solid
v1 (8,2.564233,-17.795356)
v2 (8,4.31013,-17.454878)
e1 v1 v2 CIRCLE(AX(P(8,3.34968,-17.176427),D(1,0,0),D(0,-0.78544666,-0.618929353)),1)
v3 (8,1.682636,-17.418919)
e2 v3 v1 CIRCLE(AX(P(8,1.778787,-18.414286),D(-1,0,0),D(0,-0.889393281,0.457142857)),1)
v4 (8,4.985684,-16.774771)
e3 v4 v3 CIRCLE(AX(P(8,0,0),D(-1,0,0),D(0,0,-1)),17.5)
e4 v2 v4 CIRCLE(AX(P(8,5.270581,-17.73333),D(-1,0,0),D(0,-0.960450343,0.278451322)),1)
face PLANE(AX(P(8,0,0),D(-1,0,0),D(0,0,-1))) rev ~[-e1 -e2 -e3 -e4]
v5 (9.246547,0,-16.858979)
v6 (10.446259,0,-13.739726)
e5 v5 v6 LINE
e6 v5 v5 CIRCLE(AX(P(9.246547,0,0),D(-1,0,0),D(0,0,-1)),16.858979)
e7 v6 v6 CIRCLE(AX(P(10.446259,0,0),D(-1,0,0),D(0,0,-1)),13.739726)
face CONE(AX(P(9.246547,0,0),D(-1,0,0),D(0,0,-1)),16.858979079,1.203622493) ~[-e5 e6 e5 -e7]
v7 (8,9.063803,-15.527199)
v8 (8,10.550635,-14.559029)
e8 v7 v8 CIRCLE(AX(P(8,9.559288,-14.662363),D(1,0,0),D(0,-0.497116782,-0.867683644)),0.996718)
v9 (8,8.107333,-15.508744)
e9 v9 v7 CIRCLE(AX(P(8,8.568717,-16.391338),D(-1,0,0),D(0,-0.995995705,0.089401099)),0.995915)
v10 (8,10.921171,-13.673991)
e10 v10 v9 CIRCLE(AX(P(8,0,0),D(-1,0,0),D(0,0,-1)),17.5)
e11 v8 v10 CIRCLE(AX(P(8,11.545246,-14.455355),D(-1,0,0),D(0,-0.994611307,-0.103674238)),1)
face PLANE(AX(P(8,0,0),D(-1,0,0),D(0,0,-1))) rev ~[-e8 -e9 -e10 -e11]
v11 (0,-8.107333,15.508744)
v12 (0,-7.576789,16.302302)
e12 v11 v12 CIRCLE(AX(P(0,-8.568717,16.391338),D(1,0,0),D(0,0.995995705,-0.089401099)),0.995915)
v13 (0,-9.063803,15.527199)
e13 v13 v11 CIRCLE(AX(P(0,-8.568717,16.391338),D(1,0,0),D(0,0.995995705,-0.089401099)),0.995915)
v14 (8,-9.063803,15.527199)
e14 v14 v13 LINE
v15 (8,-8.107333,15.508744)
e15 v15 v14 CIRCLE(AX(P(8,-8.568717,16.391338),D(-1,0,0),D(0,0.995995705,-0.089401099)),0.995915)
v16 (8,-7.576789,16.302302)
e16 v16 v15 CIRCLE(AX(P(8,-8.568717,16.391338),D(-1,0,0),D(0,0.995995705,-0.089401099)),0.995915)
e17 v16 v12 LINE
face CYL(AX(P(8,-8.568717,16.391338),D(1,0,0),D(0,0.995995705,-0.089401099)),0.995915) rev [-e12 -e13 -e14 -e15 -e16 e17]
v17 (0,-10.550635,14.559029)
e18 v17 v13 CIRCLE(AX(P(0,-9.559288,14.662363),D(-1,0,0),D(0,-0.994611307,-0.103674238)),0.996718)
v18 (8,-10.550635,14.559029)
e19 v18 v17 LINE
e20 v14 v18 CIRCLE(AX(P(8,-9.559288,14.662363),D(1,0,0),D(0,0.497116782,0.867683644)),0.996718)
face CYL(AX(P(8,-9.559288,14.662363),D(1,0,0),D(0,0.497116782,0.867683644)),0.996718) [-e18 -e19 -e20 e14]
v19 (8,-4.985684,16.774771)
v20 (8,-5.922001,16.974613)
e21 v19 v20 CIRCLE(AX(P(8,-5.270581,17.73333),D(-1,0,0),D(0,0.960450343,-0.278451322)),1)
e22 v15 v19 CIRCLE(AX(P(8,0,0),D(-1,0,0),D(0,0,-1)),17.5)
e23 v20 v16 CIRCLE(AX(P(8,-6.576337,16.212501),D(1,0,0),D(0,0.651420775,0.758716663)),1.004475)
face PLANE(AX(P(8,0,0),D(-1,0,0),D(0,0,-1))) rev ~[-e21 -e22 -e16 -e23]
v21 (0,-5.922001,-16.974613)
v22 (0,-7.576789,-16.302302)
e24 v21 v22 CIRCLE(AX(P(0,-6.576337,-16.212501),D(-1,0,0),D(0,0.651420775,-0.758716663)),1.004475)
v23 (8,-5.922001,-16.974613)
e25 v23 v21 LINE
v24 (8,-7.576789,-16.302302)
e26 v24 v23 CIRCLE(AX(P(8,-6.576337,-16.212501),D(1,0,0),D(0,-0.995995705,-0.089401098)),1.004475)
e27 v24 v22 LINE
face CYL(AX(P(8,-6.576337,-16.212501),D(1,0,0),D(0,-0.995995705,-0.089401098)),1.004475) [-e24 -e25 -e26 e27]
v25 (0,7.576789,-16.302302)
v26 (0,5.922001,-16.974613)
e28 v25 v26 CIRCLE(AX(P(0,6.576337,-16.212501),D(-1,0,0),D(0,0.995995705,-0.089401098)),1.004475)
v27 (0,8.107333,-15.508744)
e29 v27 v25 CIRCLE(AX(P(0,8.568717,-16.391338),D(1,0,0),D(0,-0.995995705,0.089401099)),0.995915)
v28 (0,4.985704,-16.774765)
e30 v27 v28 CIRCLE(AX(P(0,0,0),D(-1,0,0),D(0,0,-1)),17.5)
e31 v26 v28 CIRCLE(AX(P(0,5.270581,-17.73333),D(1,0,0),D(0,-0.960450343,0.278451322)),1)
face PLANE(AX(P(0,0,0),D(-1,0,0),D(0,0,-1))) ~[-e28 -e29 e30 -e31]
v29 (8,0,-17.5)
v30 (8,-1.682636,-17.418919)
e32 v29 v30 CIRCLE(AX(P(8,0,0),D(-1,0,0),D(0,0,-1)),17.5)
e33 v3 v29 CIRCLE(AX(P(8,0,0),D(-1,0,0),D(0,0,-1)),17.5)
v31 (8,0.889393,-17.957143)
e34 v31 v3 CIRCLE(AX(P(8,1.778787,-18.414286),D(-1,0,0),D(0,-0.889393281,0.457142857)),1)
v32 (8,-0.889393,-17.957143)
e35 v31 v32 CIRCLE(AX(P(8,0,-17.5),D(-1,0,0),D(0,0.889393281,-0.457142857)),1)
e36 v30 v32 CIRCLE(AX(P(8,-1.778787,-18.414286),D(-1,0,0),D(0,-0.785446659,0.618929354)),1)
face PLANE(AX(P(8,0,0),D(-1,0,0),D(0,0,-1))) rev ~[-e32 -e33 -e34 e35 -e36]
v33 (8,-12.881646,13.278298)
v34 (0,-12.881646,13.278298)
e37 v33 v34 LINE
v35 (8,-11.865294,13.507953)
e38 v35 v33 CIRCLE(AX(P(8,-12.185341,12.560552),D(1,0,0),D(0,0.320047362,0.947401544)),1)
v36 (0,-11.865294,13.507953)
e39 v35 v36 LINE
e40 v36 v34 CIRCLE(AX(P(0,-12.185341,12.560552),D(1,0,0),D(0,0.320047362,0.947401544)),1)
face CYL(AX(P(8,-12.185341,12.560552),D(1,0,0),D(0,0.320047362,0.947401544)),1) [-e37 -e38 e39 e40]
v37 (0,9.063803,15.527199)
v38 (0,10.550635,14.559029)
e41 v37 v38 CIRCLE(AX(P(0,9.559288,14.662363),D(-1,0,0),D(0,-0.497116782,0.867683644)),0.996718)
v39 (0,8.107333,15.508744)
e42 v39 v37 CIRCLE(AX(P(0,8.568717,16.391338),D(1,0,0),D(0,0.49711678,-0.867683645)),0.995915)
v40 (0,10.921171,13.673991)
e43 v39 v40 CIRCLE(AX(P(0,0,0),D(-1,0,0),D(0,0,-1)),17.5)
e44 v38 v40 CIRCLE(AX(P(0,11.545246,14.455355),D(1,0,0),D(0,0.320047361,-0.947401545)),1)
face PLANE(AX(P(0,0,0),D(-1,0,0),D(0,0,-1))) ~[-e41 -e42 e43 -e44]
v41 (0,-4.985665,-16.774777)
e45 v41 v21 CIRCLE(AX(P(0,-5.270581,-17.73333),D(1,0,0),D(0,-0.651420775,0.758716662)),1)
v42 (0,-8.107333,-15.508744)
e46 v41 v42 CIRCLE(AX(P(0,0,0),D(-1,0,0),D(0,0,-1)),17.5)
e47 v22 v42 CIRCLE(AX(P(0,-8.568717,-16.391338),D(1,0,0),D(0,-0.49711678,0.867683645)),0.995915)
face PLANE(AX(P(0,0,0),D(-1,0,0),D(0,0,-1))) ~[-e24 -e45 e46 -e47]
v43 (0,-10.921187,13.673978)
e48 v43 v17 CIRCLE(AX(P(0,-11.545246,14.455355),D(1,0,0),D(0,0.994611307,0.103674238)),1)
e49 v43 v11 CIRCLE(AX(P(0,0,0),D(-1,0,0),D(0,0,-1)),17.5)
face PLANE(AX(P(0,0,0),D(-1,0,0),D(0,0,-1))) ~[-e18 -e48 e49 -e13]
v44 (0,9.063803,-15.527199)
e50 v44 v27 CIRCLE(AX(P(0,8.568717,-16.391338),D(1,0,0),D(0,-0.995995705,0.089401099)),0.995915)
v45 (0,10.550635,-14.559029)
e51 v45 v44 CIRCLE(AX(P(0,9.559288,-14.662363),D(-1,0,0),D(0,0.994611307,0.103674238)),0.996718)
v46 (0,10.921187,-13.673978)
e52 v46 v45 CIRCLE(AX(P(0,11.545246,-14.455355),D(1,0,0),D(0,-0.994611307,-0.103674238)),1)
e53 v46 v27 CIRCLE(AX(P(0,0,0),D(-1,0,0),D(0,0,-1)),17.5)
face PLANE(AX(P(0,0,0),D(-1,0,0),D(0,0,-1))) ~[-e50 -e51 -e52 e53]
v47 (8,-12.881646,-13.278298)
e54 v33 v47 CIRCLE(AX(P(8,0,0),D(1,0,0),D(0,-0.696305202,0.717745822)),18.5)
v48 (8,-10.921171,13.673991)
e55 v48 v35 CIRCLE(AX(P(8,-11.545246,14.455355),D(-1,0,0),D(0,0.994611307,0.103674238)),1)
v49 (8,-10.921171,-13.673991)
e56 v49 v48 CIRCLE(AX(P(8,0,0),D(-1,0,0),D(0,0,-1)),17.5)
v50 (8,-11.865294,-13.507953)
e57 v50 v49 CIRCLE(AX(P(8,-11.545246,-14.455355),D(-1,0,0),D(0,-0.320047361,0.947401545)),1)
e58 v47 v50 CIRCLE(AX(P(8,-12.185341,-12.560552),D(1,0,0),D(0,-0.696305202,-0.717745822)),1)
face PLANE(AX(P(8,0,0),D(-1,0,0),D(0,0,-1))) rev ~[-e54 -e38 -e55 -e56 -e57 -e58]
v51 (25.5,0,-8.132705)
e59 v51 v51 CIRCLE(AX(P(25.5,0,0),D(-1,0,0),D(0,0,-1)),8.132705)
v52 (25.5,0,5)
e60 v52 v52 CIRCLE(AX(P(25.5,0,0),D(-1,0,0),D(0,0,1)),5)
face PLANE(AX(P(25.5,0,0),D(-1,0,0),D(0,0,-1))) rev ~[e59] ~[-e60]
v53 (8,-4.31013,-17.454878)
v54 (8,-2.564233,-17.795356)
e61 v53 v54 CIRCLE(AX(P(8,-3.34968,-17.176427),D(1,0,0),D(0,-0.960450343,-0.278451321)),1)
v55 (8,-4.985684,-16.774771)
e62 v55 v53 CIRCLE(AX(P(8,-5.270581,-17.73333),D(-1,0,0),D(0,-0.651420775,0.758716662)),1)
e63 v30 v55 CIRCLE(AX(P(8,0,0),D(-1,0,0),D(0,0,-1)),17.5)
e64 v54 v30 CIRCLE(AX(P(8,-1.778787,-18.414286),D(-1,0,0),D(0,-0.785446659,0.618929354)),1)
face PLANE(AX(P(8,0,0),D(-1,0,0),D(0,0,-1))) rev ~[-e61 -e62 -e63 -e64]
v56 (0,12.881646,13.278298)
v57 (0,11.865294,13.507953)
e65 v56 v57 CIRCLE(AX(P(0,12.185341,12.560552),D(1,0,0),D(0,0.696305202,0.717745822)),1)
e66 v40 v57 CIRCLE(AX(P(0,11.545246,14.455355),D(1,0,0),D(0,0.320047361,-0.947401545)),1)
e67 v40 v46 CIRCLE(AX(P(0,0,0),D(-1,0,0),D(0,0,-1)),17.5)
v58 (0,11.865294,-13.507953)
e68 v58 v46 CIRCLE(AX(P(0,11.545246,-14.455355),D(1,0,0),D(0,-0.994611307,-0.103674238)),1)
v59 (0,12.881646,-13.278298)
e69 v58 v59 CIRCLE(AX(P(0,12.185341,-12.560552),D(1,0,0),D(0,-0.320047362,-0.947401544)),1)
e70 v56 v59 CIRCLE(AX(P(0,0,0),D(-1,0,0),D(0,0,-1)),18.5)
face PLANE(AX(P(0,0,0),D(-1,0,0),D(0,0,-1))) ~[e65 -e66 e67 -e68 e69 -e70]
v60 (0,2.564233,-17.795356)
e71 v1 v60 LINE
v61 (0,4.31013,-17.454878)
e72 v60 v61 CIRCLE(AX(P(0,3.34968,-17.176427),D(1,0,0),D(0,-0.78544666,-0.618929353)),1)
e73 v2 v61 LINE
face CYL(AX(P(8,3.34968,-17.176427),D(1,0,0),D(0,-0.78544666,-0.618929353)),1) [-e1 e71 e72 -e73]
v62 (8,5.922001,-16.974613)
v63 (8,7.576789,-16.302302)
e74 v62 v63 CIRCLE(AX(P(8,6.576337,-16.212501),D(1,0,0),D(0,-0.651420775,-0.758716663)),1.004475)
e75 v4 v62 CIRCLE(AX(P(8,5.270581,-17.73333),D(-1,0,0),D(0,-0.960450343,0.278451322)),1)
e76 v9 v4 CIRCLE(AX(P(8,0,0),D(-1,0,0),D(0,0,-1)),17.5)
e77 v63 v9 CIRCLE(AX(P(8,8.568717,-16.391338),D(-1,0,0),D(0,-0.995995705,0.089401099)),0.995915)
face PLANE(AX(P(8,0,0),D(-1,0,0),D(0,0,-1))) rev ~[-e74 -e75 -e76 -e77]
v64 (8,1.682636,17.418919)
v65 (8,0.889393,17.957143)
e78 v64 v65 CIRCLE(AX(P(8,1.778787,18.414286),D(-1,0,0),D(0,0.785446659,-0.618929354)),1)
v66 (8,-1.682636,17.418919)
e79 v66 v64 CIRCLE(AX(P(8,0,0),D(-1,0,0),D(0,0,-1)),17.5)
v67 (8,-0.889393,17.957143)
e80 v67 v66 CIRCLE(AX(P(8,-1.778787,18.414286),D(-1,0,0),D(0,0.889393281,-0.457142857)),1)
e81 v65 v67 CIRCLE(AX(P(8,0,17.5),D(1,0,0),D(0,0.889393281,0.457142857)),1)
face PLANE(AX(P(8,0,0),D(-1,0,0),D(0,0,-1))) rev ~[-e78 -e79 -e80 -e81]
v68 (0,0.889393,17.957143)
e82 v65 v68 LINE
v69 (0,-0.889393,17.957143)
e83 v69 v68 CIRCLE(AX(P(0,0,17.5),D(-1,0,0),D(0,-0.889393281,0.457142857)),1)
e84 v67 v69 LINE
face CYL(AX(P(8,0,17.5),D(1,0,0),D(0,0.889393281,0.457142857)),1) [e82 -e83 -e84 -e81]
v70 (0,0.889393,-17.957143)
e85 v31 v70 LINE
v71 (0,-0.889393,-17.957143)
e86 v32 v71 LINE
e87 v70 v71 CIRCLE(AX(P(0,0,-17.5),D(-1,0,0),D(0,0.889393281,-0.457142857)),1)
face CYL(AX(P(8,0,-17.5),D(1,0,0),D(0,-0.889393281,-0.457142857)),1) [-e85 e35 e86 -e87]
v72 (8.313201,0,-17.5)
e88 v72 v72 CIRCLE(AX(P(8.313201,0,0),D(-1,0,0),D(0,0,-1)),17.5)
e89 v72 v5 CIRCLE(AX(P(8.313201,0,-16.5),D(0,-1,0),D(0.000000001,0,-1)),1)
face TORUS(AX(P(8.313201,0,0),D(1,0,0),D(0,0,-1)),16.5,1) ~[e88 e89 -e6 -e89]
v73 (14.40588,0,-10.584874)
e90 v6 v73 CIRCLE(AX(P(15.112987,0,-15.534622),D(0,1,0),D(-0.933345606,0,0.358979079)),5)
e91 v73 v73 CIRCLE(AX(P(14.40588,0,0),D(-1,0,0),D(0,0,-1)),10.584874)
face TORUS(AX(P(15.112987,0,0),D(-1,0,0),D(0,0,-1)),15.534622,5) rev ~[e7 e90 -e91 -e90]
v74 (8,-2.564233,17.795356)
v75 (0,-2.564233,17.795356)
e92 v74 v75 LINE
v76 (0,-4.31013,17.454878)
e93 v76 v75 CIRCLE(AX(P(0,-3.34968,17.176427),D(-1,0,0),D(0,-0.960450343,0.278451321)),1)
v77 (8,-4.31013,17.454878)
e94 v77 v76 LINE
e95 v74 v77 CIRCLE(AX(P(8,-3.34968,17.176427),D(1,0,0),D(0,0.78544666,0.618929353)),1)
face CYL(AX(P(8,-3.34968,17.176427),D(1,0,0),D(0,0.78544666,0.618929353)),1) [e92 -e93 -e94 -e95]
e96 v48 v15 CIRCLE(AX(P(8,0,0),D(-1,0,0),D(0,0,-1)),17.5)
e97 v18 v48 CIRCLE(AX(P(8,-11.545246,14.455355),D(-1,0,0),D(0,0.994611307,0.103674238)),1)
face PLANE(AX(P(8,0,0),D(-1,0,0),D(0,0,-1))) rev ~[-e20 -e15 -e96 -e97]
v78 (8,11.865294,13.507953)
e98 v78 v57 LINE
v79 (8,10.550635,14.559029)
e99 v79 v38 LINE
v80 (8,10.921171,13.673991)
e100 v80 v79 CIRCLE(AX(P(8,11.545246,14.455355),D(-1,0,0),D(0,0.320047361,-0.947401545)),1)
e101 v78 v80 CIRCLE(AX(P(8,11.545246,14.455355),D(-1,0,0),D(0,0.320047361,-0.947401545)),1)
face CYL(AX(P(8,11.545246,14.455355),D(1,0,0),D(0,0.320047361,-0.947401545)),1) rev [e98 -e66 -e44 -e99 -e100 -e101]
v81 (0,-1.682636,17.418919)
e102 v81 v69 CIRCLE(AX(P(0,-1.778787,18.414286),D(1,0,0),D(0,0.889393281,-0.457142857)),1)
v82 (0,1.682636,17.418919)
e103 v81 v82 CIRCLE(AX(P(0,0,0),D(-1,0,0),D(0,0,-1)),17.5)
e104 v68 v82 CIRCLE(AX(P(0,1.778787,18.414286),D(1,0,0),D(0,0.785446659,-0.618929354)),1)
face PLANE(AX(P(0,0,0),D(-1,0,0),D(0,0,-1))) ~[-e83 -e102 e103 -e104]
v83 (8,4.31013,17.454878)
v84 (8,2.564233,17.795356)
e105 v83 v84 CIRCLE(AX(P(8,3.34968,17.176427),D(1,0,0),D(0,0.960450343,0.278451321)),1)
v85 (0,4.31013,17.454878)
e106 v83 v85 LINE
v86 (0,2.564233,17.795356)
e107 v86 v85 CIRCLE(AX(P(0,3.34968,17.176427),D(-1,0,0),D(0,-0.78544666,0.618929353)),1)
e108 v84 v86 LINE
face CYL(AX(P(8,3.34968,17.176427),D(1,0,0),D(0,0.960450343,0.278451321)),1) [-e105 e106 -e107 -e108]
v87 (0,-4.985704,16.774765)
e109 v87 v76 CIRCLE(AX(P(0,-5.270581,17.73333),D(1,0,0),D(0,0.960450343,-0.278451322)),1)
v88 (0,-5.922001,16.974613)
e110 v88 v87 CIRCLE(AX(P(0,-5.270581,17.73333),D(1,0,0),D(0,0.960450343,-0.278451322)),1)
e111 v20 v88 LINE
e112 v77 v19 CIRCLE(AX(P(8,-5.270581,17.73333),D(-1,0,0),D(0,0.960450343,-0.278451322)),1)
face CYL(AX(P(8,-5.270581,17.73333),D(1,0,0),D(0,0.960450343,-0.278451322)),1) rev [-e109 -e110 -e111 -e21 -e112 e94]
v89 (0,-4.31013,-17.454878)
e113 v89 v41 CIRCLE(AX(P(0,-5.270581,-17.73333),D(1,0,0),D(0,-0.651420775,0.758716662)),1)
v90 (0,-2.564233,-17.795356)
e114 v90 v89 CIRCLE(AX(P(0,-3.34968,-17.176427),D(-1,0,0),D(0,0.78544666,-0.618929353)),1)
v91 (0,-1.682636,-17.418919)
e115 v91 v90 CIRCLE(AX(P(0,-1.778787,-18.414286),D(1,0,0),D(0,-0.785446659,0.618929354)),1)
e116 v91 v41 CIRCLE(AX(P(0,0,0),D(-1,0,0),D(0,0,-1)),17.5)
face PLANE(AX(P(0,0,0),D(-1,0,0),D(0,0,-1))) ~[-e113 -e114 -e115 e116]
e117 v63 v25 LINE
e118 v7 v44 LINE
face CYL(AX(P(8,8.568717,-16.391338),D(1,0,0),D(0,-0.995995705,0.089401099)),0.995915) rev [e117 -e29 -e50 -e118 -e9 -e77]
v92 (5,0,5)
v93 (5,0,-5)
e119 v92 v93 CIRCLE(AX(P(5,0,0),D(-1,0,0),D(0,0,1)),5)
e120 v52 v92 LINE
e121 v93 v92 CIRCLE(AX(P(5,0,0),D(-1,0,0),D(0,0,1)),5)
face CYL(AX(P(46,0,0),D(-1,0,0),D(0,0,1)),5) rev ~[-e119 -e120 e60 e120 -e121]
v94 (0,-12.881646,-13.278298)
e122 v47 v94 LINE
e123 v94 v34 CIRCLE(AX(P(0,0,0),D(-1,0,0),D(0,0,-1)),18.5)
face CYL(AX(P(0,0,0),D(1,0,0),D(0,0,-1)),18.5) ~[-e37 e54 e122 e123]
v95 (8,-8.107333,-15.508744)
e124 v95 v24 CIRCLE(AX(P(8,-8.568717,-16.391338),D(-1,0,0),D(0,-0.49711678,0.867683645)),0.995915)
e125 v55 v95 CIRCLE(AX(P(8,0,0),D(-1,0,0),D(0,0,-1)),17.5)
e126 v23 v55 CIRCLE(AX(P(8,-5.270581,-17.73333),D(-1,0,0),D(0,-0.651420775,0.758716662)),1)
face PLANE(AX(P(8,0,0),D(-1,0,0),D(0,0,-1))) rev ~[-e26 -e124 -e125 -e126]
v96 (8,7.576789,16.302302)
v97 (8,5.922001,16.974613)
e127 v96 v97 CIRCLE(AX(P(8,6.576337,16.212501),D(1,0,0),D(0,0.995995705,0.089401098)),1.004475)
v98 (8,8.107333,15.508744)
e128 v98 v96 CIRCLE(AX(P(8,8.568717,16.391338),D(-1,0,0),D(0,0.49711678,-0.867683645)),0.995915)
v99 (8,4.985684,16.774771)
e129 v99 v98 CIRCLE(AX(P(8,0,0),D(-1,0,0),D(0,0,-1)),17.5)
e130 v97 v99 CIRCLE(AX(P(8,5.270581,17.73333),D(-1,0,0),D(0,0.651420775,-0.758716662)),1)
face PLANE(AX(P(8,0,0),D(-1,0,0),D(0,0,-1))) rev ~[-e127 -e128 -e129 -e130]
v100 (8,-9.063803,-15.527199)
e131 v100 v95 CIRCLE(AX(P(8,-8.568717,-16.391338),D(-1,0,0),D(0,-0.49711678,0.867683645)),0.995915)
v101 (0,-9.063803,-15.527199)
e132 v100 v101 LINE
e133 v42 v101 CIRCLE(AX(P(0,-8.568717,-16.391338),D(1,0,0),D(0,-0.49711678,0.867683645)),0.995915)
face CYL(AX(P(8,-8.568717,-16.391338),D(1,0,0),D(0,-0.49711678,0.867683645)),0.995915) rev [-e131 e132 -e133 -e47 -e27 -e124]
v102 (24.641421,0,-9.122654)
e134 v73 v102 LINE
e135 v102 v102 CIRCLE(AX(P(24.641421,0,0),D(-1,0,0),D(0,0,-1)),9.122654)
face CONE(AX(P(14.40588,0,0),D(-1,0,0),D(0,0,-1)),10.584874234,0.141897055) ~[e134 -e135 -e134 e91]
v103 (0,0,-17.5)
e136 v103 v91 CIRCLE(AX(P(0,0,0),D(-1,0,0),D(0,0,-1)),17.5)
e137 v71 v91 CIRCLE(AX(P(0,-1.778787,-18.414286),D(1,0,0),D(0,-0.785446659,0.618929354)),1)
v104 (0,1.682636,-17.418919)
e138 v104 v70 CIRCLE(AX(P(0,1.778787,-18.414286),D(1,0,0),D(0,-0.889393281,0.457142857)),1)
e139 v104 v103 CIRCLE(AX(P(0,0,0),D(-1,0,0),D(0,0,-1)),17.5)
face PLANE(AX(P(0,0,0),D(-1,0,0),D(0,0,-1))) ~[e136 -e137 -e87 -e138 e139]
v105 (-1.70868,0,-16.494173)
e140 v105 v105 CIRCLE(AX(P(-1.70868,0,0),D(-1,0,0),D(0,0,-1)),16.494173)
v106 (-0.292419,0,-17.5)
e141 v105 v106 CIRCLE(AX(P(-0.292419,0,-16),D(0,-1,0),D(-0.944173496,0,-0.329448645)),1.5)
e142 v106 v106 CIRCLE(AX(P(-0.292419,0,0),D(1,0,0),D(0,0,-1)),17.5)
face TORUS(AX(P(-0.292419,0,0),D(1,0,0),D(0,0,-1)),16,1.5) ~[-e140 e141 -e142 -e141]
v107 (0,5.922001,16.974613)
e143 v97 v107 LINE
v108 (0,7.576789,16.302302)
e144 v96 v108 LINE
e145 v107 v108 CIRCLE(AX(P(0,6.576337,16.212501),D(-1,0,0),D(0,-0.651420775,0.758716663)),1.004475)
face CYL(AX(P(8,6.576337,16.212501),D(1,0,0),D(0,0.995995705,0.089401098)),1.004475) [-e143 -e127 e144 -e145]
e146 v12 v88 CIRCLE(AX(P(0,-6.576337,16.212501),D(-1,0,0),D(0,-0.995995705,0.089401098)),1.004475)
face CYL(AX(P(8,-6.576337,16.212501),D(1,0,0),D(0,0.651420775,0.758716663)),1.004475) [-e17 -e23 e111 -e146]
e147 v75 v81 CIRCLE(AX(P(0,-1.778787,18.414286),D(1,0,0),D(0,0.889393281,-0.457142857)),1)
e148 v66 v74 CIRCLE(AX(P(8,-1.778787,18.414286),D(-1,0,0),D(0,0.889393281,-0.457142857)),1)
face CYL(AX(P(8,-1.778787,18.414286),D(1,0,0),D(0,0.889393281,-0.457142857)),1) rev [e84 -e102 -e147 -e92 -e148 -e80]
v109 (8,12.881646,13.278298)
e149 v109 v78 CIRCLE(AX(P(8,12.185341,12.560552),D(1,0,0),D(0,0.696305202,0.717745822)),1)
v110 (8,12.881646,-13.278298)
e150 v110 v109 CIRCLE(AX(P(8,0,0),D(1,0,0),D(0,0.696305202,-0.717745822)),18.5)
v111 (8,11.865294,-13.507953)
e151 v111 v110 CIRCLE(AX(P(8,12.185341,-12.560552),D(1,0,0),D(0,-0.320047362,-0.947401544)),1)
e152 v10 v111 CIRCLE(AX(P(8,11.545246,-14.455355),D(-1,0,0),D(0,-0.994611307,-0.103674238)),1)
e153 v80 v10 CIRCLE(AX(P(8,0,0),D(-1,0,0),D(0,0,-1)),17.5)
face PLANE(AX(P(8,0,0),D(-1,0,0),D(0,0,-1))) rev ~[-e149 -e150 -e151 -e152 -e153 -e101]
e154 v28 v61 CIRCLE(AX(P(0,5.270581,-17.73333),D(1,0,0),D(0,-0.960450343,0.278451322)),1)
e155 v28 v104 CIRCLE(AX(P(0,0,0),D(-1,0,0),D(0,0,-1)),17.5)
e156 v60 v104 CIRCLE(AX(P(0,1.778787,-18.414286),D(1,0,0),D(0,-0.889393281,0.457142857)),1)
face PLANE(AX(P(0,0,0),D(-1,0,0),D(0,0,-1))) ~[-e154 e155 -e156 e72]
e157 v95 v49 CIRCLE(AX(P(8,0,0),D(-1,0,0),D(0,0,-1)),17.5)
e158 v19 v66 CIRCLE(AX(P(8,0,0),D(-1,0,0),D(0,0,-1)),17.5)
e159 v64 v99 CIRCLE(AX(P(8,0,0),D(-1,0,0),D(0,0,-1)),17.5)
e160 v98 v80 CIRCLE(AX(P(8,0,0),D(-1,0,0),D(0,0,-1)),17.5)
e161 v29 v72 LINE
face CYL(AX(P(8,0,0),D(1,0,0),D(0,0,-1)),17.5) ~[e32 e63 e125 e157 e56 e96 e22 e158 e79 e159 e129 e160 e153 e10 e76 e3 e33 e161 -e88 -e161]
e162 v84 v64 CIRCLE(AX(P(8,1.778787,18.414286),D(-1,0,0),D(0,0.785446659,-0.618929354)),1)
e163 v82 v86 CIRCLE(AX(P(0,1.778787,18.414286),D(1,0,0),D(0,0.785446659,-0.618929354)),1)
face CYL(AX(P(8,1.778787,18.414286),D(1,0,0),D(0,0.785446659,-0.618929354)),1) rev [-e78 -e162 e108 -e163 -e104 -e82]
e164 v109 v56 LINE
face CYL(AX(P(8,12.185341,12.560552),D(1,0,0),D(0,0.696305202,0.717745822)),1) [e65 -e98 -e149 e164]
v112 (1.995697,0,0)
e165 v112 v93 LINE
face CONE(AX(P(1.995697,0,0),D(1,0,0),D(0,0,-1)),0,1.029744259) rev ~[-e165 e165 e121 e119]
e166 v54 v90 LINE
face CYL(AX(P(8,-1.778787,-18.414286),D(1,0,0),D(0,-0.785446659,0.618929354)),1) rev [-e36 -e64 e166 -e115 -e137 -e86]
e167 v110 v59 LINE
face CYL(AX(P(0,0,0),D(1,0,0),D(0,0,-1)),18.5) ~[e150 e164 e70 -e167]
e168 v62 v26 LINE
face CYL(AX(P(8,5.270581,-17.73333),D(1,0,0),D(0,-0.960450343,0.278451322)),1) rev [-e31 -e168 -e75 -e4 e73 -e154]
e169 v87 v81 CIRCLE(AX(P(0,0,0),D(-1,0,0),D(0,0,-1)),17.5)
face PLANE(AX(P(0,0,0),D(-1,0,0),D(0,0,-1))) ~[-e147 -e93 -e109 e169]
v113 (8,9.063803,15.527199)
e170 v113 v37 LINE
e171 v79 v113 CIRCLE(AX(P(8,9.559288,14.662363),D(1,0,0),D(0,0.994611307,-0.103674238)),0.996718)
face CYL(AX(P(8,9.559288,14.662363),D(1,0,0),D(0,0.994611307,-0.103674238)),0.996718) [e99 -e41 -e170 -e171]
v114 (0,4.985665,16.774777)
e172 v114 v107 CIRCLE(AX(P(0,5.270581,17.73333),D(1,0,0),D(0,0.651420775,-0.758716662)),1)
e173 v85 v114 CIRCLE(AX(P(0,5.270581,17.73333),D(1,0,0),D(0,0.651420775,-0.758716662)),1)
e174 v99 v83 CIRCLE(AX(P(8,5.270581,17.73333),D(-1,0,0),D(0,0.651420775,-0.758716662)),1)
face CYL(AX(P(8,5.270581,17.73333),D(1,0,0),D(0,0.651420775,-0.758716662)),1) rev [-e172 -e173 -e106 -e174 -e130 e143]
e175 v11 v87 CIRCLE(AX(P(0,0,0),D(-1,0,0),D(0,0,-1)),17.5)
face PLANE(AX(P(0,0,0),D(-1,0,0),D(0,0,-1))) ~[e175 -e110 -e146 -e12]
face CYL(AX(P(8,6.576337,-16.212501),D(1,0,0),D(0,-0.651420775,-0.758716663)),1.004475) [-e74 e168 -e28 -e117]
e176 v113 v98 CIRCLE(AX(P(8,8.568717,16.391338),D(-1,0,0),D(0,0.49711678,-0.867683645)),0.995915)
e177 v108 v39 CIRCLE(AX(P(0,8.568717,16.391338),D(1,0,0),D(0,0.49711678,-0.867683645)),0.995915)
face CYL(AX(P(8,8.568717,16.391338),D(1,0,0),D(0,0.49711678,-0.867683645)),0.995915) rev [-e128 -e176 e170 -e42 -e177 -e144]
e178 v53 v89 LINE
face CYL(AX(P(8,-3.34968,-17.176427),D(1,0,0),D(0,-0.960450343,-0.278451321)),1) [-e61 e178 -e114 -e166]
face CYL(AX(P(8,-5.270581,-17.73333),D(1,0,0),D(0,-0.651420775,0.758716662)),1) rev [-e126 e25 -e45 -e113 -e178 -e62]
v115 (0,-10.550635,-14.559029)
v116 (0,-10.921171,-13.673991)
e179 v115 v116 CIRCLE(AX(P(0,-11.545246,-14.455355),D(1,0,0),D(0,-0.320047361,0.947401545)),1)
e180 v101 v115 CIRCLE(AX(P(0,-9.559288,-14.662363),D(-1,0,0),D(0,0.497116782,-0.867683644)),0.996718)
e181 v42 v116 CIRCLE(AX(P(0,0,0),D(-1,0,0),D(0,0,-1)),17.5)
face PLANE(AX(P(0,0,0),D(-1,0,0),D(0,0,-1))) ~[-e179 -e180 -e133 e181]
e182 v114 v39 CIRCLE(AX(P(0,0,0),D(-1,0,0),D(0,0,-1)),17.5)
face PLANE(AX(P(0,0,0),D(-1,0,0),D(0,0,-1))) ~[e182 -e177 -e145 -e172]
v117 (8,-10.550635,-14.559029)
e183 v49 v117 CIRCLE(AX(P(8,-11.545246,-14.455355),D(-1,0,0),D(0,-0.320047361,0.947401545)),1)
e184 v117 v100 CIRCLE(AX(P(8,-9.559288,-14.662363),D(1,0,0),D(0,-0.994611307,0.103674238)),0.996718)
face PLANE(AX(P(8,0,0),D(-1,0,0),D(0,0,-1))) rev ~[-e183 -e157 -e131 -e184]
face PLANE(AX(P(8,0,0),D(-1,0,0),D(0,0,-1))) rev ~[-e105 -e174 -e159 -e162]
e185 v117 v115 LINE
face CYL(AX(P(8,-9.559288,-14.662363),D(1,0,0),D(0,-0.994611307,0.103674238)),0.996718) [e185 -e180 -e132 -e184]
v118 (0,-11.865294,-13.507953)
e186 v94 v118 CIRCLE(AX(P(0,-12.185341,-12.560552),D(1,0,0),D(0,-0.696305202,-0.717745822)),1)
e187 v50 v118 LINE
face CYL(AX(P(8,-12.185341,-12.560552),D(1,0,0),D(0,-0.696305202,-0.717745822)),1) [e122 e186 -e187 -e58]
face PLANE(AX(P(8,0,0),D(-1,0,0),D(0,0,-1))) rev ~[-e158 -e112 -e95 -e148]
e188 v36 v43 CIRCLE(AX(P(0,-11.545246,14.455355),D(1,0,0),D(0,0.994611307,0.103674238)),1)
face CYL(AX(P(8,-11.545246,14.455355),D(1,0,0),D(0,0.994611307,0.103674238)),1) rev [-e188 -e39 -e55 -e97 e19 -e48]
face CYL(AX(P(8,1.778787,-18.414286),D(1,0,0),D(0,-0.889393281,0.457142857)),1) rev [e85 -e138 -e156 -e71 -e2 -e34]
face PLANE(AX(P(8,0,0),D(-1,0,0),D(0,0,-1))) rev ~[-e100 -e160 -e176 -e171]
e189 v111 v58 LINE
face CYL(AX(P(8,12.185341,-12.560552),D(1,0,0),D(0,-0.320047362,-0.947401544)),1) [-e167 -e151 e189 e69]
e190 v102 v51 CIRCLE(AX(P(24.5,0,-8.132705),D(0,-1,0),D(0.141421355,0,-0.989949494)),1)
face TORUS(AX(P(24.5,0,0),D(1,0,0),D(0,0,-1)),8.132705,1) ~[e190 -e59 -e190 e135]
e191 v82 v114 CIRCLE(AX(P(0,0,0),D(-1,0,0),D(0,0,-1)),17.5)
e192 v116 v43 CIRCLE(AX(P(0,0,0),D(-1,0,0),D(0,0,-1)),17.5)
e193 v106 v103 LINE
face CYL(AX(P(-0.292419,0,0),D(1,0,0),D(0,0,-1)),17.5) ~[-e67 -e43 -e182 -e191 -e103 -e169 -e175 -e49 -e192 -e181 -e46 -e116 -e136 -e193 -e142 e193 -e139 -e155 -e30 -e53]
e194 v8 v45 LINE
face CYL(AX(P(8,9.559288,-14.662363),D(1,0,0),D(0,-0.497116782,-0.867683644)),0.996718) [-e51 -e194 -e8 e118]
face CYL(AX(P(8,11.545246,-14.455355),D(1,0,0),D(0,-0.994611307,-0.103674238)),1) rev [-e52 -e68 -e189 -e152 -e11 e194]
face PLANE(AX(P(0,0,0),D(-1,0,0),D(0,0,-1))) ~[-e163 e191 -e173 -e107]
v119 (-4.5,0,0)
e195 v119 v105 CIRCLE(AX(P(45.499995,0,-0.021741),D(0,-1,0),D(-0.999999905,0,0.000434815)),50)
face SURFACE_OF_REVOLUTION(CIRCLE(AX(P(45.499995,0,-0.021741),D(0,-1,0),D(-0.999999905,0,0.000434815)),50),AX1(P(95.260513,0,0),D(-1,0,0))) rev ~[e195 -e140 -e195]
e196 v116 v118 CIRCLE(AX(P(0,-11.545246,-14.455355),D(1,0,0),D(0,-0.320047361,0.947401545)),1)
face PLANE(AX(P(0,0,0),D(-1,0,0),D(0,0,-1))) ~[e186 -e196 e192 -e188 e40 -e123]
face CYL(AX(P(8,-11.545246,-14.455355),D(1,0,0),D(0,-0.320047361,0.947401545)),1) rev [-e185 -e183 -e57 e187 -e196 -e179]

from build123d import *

# Parameters (mm, degrees)
PER_AGE1_D              = 10
PER_AGE1_DEPTH          = 20.5
PER_AGE1_TIP            = 3.004303095
ESQUISSE4_OUTSIDE_W     = 51.064
ESQUISSE4_OUTSIDE_H     = 51.064
ENL_V_MAT_EXTRU_2_DEPTH = 13.500004827


with BuildPart() as part:
    # Esquisse1 → Base-Révolution (revolve)
    with BuildSketch(Plane.XY, mode=Mode.PRIVATE) as base_r_volution_sk:
        with BuildLine():
            Line((0, 17.5), (0, 18.5))
            Line((0, 18.5), (8, 18.5))
            Line((8, 18.5), (8, 17.5))
            Line((8, 17.5), (8.313200902, 17.5))
            ThreePointArc((8.313200902, 17.5), (8.879337334, 17.324311555), (9.246546508, 16.858979079))
            Line((9.246546508, 16.858979079), (10.446259113, 13.739726306))
            ThreePointArc((10.446259113, 13.739726306), (11.997253194, 11.624097191), (14.405880363, 10.584874234))
            Line((14.405880363, 10.584874234), (24.641421356, 9.122654092))
            ThreePointArc((24.641421356, 9.122654092), (25.255453955, 8.78790634), (25.5, 8.132704598))
            Line((25.5, 8.132704598), (25.5, 0))
            Line((25.5, 0), (-4.5, 0))
            ThreePointArc((-4.5, 0), (-3.799049548, 8.364652706), (-1.708679537, 16.494172966))
            ThreePointArc((-1.708679537, 16.494172966), (-1.160964211, 17.222959412), (-0.292419293, 17.5))
            Line((-0.292419293, 17.5), (0, 17.5))
        make_face()
    revolve(base_r_volution_sk.sketch.rotate(Axis((95.260513245, 0, 0), (-1, 0, 0)), 90), axis=Axis((95.260513245, 0, 0), (-1, 0, 0)))  # turned: the seam where the file's is

    # Perçage1
    with Locations(Plane(origin=(25.5, 0, 0), x_dir=(0, 0, -1), z_dir=(1, 0, 0))):
        with Locations((0, 0)):
            Hole(PER_AGE1_D / 2, depth=PER_AGE1_DEPTH)
            with Locations((0, 0, -(PER_AGE1_DEPTH + PER_AGE1_TIP / 2))):  # 118° drill point
                Cone(0, PER_AGE1_D / 2, PER_AGE1_TIP, mode=Mode.SUBTRACT)

    # Esquisse4 outside → Enlèv. mat.-Extru.2 (cut, through all)
    with BuildSketch(Plane(origin=(8, 0, 0), x_dir=(0, 0, -1), z_dir=(1, 0, 0))):
        Rectangle(ESQUISSE4_OUTSIDE_W, ESQUISSE4_OUTSIDE_H)
        with BuildLine():
            ThreePointArc((-17.957142857, 0.889393281), (-18.5, 0), (-17.957142857, -0.889393281))
            ThreePointArc((-17.957142857, -0.889393281), (-17.418918919, -1.682635937), (-17.79535636, -2.564233221))
            ThreePointArc((-17.79535636, -2.564233221), (-18.157937121, -3.541090159), (-17.454878328, -4.310130223))
            ThreePointArc((-17.454878328, -4.310130223), (-16.774965689, -4.985031065), (-16.974612988, -5.922001341))
            ThreePointArc((-16.974612988, -5.922001341), (-17.143103155, -6.954423684), (-16.302302488, -7.576789389))
            ThreePointArc((-16.302302488, -7.576789389), (-15.508197398, -8.108380814), (-15.527199047, -9.063802853))
            ThreePointArc((-15.527199047, -9.063802853), (-15.497610903, -10.103170336), (-14.559029214, -10.55063501))
            ThreePointArc((-14.559029214, -10.55063501), (-13.67429749, -10.920787188), (-13.507953431, -11.865293679))
            ThreePointArc((-13.507953431, -11.865293679), (-13.535960556, -12.405745053), (-13.278297709, -12.881646244))
            ThreePointArc((-13.278297709, -12.881646244), (0, -18.5), (13.278297709, -12.881646244))
            ThreePointArc((13.278297709, -12.881646244), (13.535960556, -12.405745053), (13.507953431, -11.865293679))
            ThreePointArc((13.507953431, -11.865293679), (13.67429749, -10.920787188), (14.559029214, -10.55063501))
            ThreePointArc((14.559029214, -10.55063501), (15.497610903, -10.103170336), (15.527199047, -9.063802853))
            ThreePointArc((15.527199047, -9.063802853), (15.508197398, -8.108380814), (16.302302488, -7.576789389))
            ThreePointArc((16.302302488, -7.576789389), (17.143103155, -6.954423684), (16.974612988, -5.922001341))
            ThreePointArc((16.974612988, -5.922001341), (16.774965689, -4.985031065), (17.454878328, -4.310130223))
            ThreePointArc((17.454878328, -4.310130223), (18.157937121, -3.541090159), (17.79535636, -2.564233221))
            ThreePointArc((17.79535636, -2.564233221), (17.418918919, -1.682635937), (17.957142857, -0.889393281))
            ThreePointArc((17.957142857, -0.889393281), (18.5, 0), (17.957142857, 0.889393281))
            ThreePointArc((17.957142857, 0.889393281), (17.418918919, 1.682635937), (17.79535636, 2.564233221))
            ThreePointArc((17.79535636, 2.564233221), (18.157937121, 3.541090159), (17.454878328, 4.310130223))
            ThreePointArc((17.454878328, 4.310130223), (16.774965689, 4.985031065), (16.974612988, 5.922001341))
            ThreePointArc((16.974612988, 5.922001341), (17.143103155, 6.954423684), (16.302302488, 7.576789389))
            ThreePointArc((16.302302488, 7.576789389), (15.508197398, 8.108380814), (15.527199047, 9.063802853))
            ThreePointArc((15.527199047, 9.063802853), (15.497610903, 10.103170336), (14.559029214, 10.55063501))
            ThreePointArc((14.559029214, 10.55063501), (13.67429749, 10.920787188), (13.507953431, 11.865293679))
            ThreePointArc((13.507953431, 11.865293679), (13.535960556, 12.405745053), (13.278297709, 12.881646244))
            ThreePointArc((13.278297709, 12.881646244), (0, 18.5), (-13.278297709, 12.881646244))
            ThreePointArc((-13.278297709, 12.881646244), (-13.535960556, 12.405745053), (-13.507953431, 11.865293679))
            ThreePointArc((-13.507953431, 11.865293679), (-13.67429749, 10.920787188), (-14.559029214, 10.55063501))
            ThreePointArc((-14.559029214, 10.55063501), (-15.497610903, 10.103170336), (-15.527199047, 9.063802853))
            ThreePointArc((-15.527199047, 9.063802853), (-15.508197398, 8.108380814), (-16.302302488, 7.576789389))
            ThreePointArc((-16.302302488, 7.576789389), (-17.143103155, 6.954423684), (-16.974612988, 5.922001341))
            ThreePointArc((-16.974612988, 5.922001341), (-16.774965689, 4.985031065), (-17.454878328, 4.310130223))
            ThreePointArc((-17.454878328, 4.310130223), (-18.157937121, 3.541090159), (-17.79535636, 2.564233221))
            ThreePointArc((-17.79535636, 2.564233221), (-17.418918919, 1.682635937), (-17.957142857, 0.889393281))
        make_face(mode=Mode.SUBTRACT)
    extrude(amount=-ENL_V_MAT_EXTRU_2_DEPTH, mode=Mode.SUBTRACT)


solid = part.part
